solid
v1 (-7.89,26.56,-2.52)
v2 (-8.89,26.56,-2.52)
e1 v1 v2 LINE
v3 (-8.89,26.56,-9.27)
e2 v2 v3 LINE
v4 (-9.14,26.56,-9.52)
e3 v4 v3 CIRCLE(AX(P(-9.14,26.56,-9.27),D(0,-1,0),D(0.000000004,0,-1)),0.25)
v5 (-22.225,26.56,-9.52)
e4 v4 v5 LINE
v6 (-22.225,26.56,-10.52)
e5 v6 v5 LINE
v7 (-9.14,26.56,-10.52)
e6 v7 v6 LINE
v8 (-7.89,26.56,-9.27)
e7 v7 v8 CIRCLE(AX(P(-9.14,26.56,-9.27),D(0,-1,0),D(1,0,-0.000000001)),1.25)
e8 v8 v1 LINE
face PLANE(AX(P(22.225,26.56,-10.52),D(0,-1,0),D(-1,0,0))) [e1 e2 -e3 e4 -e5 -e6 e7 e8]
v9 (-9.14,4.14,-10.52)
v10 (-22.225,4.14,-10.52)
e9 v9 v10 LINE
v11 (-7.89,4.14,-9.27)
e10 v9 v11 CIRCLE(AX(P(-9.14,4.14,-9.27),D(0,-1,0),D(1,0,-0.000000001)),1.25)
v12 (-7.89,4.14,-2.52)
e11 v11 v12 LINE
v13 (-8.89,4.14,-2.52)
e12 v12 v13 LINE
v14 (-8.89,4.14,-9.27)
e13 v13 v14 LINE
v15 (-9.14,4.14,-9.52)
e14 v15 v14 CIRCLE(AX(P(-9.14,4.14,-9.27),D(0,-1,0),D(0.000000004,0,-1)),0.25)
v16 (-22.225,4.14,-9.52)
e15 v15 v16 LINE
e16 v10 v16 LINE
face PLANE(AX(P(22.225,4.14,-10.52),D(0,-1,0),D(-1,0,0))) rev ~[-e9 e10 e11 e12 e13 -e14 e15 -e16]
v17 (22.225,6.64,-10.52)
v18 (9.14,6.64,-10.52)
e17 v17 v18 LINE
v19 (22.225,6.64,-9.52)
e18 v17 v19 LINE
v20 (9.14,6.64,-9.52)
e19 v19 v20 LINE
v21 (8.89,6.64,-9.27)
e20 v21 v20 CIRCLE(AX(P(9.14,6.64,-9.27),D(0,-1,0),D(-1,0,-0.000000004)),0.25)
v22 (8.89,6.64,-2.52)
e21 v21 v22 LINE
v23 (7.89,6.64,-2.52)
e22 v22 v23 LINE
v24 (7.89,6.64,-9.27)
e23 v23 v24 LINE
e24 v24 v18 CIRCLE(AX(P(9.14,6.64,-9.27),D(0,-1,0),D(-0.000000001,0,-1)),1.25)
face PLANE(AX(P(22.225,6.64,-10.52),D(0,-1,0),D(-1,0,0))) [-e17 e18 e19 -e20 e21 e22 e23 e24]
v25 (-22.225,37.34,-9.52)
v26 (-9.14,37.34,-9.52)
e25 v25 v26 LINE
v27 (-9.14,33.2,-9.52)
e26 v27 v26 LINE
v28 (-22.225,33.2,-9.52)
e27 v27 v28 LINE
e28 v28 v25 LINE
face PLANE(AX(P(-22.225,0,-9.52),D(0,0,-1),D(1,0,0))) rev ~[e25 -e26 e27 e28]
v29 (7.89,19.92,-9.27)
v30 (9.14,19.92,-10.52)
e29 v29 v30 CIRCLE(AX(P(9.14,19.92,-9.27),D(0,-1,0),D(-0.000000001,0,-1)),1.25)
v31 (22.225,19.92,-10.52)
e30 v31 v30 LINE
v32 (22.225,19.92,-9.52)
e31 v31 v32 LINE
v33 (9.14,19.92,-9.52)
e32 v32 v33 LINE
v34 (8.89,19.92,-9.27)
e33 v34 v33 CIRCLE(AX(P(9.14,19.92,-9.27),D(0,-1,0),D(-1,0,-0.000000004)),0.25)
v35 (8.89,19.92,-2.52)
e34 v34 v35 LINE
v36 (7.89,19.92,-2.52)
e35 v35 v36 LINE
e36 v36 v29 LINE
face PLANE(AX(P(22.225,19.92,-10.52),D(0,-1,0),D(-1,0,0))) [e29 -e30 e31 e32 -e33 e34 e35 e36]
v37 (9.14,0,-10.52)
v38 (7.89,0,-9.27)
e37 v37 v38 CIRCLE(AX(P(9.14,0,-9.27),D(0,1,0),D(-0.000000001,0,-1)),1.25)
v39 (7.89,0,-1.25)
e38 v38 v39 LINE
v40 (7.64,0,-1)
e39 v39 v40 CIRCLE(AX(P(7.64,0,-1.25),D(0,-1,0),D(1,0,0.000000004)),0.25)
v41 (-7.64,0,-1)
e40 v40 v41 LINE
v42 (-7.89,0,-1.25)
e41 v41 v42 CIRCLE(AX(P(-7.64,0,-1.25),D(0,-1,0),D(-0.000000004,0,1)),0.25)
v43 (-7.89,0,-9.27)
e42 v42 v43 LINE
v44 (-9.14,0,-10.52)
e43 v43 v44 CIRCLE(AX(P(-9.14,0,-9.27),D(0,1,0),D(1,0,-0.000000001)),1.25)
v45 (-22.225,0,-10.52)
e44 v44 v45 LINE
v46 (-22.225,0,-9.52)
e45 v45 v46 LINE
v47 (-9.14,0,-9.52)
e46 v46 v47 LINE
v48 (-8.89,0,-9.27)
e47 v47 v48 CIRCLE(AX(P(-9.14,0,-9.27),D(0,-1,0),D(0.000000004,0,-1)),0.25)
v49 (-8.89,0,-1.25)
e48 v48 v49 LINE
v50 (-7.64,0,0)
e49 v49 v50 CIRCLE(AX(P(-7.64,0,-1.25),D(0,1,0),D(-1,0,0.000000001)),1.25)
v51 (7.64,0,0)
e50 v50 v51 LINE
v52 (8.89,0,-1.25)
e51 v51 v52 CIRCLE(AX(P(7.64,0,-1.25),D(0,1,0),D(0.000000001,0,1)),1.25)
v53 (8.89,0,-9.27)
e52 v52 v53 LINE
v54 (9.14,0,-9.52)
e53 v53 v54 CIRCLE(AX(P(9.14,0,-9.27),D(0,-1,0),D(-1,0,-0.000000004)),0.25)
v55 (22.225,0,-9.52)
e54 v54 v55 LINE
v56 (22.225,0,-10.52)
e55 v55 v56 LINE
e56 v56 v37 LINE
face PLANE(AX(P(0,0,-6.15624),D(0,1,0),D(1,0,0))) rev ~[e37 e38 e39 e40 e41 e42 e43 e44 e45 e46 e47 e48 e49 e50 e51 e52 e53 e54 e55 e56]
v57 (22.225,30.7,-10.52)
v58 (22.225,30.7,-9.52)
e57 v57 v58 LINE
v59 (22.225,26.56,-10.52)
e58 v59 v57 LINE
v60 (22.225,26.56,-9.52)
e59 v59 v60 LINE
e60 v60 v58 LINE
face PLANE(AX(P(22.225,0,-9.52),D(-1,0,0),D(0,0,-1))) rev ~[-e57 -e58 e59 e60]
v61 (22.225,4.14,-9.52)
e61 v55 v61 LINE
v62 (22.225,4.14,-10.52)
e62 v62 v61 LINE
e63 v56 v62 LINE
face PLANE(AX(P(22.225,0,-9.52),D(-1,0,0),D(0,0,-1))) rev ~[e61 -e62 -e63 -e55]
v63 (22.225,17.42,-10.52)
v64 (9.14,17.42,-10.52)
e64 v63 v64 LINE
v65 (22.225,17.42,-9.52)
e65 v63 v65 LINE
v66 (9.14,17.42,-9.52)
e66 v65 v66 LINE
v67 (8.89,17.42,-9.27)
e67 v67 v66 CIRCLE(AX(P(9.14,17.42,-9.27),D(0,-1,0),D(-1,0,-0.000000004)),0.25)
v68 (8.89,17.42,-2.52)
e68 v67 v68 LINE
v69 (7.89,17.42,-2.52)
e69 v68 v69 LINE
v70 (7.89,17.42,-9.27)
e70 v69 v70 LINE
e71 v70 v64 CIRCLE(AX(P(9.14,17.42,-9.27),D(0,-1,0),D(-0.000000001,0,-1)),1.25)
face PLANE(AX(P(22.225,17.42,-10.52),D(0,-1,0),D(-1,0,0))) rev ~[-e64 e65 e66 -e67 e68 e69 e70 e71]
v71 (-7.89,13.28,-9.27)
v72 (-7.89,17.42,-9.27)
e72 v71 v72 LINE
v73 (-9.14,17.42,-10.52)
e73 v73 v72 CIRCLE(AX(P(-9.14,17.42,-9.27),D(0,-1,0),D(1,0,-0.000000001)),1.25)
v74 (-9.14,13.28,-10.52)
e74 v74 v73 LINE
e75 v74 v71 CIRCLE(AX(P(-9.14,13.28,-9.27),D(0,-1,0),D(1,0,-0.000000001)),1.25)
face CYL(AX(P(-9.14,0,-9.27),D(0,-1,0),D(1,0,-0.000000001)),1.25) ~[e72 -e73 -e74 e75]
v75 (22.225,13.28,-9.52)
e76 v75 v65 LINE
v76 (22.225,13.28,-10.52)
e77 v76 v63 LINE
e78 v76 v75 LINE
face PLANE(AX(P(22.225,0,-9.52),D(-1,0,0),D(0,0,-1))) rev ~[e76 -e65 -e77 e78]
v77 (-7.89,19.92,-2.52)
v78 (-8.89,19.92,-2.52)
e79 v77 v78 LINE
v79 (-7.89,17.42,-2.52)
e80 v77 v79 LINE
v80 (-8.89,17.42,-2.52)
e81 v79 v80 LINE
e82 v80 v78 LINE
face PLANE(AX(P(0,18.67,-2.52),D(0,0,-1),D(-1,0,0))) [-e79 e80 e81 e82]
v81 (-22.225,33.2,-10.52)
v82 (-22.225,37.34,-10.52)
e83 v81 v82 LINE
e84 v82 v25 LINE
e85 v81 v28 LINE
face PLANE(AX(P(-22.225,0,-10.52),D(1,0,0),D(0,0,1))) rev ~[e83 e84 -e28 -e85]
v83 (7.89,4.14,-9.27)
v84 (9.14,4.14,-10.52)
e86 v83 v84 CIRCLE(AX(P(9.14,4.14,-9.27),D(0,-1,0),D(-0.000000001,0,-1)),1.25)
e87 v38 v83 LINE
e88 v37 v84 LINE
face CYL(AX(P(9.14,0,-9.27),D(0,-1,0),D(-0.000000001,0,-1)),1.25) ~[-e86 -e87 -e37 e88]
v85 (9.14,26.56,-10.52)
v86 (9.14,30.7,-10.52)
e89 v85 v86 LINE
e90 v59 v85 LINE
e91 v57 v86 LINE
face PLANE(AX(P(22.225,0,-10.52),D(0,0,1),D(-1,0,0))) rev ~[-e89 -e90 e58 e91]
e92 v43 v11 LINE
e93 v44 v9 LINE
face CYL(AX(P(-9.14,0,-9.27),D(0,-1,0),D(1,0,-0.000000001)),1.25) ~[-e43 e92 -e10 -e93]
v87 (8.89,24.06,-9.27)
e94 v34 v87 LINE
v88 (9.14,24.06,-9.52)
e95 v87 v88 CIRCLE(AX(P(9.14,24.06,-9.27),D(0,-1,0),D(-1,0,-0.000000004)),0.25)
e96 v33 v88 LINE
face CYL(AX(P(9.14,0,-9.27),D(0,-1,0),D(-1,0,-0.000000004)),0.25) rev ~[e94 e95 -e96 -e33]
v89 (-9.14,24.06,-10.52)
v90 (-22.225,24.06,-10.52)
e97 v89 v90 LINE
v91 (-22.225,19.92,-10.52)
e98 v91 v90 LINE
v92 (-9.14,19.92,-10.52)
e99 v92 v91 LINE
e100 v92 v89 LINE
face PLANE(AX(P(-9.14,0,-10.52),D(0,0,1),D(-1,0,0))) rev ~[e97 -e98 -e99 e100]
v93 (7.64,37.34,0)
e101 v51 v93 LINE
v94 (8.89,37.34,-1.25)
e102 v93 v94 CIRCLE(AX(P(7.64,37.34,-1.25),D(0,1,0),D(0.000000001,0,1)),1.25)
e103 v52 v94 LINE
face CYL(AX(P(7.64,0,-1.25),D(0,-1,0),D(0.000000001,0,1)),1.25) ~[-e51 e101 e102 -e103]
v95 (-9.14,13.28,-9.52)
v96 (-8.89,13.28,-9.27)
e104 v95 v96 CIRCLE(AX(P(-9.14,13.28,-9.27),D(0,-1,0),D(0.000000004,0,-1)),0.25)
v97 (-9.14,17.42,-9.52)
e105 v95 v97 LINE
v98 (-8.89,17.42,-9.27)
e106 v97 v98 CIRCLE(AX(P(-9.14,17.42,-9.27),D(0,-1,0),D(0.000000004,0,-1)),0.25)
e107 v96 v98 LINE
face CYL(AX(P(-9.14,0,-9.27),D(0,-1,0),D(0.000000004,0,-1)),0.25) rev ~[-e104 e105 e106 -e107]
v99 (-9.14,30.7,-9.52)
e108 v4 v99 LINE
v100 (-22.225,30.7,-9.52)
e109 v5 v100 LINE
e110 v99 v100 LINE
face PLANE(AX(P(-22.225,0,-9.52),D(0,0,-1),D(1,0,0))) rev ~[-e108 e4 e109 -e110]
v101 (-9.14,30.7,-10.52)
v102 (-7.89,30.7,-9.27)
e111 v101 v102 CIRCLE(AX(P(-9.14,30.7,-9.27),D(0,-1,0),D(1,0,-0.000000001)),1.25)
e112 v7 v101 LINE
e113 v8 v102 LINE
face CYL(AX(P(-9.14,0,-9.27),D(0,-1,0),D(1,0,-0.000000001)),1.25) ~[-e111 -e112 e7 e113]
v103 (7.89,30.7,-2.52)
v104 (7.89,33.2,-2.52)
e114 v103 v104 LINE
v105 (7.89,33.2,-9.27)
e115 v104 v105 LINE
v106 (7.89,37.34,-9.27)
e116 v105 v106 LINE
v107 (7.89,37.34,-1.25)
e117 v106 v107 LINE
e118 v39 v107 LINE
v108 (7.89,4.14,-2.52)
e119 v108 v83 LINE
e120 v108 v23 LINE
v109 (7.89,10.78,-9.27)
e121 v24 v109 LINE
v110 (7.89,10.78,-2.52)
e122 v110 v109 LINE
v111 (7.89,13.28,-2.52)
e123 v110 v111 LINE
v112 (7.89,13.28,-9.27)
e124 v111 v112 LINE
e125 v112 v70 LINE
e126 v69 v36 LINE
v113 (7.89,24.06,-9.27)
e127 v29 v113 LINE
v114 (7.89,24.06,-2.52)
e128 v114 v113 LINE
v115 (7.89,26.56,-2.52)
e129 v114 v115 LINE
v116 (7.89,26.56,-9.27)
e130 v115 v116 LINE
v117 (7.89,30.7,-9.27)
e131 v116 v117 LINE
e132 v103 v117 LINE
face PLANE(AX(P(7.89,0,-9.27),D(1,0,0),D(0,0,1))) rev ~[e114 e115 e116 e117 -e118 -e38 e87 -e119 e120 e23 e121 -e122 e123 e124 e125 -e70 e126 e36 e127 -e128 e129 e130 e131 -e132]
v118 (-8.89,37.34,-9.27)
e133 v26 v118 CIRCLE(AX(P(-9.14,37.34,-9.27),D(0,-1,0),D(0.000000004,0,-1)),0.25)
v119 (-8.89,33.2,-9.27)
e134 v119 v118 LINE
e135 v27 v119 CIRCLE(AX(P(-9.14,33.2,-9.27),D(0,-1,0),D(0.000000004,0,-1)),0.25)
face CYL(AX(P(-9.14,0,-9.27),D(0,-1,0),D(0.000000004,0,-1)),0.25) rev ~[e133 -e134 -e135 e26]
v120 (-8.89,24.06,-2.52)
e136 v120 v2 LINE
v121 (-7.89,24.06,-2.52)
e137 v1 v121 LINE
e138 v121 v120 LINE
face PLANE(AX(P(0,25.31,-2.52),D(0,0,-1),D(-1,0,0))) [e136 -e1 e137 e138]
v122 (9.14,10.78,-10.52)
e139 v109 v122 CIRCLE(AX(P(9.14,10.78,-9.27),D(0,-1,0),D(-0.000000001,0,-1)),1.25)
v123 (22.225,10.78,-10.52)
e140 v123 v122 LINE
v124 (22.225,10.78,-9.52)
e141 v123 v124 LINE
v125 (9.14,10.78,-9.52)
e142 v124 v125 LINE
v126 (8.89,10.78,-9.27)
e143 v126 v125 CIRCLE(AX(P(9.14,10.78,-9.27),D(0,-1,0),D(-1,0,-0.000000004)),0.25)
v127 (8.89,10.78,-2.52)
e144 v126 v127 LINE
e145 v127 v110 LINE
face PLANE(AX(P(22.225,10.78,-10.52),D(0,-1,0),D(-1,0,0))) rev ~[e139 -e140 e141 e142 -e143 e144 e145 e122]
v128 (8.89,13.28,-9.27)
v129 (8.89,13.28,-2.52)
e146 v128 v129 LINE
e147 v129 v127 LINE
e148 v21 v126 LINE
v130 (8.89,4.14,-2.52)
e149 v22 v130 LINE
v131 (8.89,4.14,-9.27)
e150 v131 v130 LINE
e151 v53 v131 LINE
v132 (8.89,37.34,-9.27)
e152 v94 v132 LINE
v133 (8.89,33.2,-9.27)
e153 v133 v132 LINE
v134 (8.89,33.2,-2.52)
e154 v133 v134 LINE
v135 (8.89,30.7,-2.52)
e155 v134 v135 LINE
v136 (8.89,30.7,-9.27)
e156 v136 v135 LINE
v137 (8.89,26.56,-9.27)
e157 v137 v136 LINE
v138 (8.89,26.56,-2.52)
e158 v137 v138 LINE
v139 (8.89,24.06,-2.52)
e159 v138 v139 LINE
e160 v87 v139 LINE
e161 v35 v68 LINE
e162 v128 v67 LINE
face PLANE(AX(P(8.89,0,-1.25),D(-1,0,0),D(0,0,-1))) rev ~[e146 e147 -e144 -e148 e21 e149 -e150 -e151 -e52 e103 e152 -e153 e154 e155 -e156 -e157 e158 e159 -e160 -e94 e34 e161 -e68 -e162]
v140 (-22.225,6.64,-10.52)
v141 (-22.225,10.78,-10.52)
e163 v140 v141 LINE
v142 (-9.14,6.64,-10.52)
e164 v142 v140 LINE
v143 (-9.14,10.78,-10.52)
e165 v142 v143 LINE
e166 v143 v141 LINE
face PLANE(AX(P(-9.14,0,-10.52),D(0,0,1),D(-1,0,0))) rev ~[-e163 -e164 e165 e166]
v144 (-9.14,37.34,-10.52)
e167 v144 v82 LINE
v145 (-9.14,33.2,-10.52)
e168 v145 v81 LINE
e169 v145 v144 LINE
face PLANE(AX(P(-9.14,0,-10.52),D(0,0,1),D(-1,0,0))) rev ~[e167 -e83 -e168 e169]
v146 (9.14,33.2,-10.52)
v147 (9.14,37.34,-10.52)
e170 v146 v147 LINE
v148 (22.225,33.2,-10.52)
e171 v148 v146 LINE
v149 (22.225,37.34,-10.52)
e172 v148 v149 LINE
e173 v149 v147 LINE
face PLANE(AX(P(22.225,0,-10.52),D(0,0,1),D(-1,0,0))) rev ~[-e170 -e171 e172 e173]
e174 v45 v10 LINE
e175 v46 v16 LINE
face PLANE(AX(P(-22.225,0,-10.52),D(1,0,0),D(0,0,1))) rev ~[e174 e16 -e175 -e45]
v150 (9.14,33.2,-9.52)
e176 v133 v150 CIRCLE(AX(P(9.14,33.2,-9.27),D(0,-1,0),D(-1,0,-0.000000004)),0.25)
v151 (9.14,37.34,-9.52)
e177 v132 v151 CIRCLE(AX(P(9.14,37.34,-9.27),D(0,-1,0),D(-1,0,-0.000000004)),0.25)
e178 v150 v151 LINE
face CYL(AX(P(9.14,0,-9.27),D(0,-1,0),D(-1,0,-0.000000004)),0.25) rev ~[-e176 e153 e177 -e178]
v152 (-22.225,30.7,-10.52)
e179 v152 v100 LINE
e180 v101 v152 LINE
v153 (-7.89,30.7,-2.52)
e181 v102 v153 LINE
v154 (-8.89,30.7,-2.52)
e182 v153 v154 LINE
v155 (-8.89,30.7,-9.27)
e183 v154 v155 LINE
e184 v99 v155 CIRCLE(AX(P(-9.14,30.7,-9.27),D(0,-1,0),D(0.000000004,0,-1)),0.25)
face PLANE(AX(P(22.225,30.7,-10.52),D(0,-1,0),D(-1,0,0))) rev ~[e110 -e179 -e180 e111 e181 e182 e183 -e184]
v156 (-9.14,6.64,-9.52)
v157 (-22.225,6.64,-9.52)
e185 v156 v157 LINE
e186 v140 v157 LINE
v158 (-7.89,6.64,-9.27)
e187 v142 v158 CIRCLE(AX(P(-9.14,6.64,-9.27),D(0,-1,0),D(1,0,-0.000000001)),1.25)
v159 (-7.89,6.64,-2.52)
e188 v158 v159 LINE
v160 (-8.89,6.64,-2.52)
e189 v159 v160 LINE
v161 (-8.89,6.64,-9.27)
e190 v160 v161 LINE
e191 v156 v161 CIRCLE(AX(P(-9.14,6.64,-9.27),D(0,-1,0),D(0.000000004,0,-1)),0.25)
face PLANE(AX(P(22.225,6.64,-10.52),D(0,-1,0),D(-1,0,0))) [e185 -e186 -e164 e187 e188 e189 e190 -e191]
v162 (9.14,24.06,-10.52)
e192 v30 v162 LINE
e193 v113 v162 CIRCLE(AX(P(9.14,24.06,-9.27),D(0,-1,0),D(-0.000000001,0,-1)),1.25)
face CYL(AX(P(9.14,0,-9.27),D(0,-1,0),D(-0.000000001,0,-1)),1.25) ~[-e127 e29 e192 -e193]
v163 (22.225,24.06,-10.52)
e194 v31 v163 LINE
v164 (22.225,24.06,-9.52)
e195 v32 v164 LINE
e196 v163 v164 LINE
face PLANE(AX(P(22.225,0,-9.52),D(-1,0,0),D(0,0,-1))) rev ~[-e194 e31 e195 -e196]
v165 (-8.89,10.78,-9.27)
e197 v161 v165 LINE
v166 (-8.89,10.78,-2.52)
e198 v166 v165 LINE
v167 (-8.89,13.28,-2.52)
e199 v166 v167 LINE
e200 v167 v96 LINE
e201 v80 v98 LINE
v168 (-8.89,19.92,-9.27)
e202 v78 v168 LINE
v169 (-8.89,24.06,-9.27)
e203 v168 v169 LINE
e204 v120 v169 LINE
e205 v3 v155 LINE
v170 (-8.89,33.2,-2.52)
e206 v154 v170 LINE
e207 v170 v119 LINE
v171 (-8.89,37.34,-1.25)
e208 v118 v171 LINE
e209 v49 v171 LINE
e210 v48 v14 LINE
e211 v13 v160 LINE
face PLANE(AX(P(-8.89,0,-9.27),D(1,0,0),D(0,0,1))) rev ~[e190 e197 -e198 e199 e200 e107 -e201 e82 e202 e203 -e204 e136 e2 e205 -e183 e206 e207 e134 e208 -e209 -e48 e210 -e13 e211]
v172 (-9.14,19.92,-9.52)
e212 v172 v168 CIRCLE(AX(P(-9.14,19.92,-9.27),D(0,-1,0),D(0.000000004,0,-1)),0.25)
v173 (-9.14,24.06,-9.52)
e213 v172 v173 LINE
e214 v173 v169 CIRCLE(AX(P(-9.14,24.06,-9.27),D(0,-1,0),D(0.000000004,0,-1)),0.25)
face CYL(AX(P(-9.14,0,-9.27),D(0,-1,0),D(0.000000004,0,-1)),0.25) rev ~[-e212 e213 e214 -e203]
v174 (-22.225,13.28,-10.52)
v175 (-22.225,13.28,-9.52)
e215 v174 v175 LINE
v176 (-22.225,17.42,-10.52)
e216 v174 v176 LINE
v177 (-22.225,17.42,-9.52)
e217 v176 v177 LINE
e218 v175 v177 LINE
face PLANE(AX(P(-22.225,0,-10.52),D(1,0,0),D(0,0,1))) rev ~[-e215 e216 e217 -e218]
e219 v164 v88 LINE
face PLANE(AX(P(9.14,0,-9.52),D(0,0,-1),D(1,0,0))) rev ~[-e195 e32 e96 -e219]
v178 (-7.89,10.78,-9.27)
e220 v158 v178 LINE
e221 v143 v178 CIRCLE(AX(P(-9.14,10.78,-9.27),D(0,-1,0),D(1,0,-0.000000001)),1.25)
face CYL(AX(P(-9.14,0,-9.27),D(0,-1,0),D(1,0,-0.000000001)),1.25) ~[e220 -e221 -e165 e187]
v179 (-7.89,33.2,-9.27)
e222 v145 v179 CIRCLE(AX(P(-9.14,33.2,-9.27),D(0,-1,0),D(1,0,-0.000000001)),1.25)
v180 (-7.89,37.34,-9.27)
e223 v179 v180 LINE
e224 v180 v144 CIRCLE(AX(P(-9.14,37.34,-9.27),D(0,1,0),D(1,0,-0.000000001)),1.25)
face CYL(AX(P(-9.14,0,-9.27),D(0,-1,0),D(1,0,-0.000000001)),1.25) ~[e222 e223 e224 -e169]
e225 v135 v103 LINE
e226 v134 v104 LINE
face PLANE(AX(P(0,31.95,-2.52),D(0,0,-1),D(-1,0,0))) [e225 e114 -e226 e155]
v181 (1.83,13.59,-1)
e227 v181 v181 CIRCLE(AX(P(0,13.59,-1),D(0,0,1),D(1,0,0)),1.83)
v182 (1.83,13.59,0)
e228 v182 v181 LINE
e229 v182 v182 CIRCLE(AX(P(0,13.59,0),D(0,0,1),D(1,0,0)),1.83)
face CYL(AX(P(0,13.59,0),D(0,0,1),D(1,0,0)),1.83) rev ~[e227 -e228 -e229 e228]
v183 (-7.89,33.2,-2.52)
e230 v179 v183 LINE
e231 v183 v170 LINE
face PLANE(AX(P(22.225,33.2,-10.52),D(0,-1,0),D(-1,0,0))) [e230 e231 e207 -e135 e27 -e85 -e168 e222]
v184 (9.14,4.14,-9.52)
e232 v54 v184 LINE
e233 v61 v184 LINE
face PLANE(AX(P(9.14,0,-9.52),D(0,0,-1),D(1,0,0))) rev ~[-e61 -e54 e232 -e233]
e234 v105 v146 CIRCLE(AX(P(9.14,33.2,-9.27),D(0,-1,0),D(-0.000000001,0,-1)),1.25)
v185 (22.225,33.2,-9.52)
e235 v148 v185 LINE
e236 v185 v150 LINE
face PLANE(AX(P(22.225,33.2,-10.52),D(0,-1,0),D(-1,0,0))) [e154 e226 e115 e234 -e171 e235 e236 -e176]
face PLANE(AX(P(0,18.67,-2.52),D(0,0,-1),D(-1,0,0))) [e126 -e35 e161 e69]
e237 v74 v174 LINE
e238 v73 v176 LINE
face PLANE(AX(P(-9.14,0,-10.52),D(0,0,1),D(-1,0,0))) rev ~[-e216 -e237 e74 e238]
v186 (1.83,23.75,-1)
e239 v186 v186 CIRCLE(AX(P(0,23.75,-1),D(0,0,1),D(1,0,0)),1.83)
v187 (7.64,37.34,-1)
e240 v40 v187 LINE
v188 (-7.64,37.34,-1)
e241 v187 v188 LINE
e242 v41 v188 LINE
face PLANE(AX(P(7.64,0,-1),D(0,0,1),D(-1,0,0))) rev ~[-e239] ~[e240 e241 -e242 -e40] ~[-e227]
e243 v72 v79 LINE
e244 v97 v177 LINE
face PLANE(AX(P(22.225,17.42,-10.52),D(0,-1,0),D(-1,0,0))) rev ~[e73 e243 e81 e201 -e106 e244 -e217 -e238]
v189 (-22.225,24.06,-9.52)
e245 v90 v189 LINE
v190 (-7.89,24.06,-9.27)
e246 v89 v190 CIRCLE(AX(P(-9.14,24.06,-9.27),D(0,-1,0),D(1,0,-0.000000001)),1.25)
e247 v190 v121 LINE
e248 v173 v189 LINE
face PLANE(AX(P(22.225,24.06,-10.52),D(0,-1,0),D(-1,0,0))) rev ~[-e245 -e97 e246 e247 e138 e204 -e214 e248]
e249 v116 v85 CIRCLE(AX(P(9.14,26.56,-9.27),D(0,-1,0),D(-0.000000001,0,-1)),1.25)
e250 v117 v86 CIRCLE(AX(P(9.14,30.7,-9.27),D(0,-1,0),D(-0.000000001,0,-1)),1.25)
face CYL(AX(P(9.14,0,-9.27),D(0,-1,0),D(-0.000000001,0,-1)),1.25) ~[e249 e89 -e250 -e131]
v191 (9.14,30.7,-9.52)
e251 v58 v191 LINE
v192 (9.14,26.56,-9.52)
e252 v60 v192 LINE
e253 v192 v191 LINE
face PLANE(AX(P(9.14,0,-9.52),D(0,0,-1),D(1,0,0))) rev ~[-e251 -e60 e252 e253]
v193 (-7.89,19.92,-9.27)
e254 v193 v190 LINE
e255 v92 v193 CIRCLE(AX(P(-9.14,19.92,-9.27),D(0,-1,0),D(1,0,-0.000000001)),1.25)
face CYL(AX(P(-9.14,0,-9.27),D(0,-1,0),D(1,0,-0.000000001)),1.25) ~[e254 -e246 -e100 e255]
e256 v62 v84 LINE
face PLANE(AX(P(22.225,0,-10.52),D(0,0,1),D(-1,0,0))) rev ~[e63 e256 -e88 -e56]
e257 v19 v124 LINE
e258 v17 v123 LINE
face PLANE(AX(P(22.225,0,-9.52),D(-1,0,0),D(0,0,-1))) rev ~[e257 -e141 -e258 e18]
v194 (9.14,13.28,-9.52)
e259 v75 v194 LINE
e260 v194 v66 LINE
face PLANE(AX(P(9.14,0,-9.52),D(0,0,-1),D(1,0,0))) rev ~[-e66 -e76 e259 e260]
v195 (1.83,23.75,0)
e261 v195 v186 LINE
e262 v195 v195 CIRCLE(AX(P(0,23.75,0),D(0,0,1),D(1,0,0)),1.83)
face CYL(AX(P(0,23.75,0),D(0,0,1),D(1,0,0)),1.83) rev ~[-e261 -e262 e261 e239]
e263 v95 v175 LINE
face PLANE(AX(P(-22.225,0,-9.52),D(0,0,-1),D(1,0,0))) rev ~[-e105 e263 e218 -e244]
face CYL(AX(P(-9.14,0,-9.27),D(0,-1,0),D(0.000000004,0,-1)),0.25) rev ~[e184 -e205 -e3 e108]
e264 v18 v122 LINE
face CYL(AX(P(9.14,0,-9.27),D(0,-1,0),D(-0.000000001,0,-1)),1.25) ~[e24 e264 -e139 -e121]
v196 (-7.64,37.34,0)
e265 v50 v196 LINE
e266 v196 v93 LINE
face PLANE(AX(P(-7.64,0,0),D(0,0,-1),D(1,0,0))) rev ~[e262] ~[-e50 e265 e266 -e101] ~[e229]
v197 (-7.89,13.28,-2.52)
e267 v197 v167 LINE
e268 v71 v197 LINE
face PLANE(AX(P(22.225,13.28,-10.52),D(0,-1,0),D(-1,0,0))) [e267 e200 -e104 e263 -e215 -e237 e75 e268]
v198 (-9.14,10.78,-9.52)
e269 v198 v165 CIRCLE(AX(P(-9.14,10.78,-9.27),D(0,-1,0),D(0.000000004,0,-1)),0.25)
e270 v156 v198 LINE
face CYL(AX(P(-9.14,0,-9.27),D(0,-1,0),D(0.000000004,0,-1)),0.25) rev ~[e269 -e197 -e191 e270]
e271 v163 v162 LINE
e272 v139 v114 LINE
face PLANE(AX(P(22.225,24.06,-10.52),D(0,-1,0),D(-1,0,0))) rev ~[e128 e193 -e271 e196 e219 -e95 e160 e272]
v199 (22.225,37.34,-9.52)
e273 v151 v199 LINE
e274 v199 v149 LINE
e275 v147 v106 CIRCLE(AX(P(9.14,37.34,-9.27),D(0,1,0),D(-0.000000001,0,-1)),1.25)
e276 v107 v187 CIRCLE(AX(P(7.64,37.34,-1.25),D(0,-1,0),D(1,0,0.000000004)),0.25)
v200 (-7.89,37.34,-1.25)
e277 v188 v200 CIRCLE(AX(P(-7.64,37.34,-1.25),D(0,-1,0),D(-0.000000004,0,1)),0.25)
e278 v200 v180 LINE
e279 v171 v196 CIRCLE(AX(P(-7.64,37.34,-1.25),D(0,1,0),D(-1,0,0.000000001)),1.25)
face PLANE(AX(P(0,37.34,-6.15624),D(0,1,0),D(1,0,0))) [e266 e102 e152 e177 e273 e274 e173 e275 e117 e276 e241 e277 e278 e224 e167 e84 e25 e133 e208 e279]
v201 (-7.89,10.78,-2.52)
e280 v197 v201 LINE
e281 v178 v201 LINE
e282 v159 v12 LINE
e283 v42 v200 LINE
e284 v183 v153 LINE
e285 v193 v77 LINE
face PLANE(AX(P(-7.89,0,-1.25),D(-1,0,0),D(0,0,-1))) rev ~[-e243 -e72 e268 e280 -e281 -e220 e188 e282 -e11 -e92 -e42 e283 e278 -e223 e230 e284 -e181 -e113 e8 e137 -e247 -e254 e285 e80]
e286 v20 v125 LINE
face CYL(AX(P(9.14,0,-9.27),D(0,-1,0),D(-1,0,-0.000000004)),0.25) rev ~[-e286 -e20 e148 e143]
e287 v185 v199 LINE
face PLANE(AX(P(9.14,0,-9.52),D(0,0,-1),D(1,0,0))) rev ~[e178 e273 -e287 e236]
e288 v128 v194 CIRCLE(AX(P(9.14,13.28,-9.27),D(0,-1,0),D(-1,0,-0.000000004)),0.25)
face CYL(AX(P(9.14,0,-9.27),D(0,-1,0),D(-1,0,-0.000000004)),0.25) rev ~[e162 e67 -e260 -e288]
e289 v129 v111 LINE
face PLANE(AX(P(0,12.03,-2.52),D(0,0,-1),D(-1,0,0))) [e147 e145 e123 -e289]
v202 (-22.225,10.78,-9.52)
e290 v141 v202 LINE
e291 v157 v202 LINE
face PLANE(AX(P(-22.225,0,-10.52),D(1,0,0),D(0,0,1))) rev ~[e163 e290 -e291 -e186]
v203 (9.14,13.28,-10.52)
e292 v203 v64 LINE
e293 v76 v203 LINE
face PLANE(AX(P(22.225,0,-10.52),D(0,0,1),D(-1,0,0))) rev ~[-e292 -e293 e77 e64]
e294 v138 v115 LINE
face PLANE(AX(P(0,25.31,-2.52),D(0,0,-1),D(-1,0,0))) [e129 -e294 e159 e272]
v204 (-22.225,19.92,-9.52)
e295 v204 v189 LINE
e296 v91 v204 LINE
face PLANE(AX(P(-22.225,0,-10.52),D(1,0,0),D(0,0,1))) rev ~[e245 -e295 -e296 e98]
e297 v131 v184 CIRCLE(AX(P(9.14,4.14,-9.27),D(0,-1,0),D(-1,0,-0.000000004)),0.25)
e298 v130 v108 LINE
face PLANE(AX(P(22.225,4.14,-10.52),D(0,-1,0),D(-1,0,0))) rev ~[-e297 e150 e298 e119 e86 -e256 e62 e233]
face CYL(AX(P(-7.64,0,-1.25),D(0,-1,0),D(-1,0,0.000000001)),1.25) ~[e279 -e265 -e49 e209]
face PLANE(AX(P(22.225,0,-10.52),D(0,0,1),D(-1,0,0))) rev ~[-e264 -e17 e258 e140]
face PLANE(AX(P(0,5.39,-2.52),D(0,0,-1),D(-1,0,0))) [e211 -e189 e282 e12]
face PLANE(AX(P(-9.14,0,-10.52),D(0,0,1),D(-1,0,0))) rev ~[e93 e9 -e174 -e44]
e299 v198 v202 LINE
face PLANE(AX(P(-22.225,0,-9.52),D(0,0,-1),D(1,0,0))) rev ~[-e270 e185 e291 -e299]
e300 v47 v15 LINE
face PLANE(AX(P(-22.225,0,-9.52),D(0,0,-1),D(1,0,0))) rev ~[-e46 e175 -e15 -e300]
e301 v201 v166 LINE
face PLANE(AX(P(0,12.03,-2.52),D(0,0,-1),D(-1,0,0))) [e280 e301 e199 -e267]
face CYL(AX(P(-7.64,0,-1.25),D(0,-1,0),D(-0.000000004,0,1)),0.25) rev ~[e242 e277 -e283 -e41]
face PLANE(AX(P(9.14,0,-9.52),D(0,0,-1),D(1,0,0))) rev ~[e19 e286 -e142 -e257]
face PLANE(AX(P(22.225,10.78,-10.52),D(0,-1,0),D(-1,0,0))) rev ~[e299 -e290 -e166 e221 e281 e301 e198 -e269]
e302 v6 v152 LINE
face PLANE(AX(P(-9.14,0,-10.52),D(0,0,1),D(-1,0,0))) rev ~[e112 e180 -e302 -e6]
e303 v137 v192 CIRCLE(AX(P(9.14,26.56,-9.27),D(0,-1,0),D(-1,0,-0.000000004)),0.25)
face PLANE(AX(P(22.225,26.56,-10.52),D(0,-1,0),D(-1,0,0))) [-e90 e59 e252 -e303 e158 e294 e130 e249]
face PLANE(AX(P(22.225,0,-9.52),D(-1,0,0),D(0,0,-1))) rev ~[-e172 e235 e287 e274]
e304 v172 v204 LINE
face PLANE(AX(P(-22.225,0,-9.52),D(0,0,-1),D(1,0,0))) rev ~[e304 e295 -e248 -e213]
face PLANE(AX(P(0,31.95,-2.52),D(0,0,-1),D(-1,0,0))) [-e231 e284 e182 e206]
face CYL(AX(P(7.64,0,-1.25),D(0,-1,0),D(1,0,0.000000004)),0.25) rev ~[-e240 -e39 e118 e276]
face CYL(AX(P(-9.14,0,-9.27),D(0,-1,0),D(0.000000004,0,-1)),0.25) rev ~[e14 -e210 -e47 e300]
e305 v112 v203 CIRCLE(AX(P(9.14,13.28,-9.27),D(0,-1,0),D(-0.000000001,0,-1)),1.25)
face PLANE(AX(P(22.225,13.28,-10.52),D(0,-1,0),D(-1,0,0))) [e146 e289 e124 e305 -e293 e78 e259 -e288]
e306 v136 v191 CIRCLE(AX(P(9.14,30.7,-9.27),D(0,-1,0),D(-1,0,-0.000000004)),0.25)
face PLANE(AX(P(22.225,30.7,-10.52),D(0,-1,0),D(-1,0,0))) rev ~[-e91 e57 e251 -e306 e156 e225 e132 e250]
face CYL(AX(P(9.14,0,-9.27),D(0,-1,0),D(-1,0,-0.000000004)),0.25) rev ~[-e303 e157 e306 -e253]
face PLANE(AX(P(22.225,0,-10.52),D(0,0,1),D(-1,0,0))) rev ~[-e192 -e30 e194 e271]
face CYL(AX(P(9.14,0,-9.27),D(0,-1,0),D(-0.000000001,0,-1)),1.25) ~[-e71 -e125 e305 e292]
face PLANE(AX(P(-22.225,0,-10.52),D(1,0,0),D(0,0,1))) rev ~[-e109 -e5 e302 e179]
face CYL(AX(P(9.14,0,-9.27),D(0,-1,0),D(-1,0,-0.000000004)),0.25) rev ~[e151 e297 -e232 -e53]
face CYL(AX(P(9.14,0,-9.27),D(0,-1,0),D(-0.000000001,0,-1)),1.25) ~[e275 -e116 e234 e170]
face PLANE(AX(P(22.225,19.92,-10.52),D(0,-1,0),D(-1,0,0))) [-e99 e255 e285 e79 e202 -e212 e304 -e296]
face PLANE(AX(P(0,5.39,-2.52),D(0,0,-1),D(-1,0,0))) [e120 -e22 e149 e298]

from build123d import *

# Parameters (mm, degrees)
EXTRUDE_THIN1_DEPTH = 37.34
SKETCH2_R           = 1.83
CUT_EXTRUDE1_DEPTH  = 11.52
SKETCH3_W           = 44.45
SKETCH3_H           = 2.5
CUT_EXTRUDE2_DEPTH  = 8


with BuildPart() as part:
    # Sketch1 → Extrude-Thin1 (new body)
    with BuildSketch(Plane(origin=(0, 0, 0), x_dir=(1, 0, 0), z_dir=(0, 1, 0))):
        with BuildLine():
            Line((-22.225, 9.52), (-9.14, 9.52))
            ThreePointArc((-9.14, 9.52), (-8.963223305, 9.446776695), (-8.89, 9.27))
            Line((-8.89, 9.27), (-8.89, 1.25))
            ThreePointArc((-8.89, 1.25), (-8.523883476, 0.366116524), (-7.64, 0))
            Line((-7.64, 0), (7.64, 0))
            ThreePointArc((7.64, 0), (8.523883476, 0.366116524), (8.89, 1.25))
            Line((8.89, 1.25), (8.89, 9.27))
            ThreePointArc((8.89, 9.27), (8.963223305, 9.446776695), (9.14, 9.52))
            Line((9.14, 9.52), (22.225, 9.52))
            Line((22.225, 9.52), (22.225, 10.52))
            Line((22.225, 10.52), (9.14, 10.52))
            ThreePointArc((9.14, 10.52), (8.256116524, 10.153883476), (7.89, 9.27))
            Line((7.89, 9.27), (7.89, 1.25))
            ThreePointArc((7.89, 1.25), (7.816776695, 1.073223305), (7.64, 1))
            Line((7.64, 1), (-7.64, 1))
            ThreePointArc((-7.64, 1), (-7.816776695, 1.073223305), (-7.89, 1.25))
            Line((-7.89, 1.25), (-7.89, 9.27))
            ThreePointArc((-7.89, 9.27), (-8.256116524, 10.153883476), (-9.14, 10.52))
            Line((-9.14, 10.52), (-22.225, 10.52))
            Line((-22.225, 10.52), (-22.225, 9.52))
        make_face()
    extrude(amount=EXTRUDE_THIN1_DEPTH)

    # Sketch2 → Cut-Extrude1 (cut, through all)
    with BuildSketch(Plane.XY):
        with Locations((0, 13.59)):
            Circle(SKETCH2_R)
        with Locations((0, 23.75)):
            Circle(SKETCH2_R)
    extrude(amount=-CUT_EXTRUDE1_DEPTH, mode=Mode.SUBTRACT)

    # Sketch3 → Cut-Extrude2 (cut)
    with BuildSketch(Plane(origin=(0, 0, -10.52), x_dir=(-1, 0, 0), z_dir=(0, 0, -1))):
        with Locations((0, 31.95)):
            Rectangle(SKETCH3_W, SKETCH3_H)
        with Locations((0, 25.31)):
            Rectangle(SKETCH3_W, SKETCH3_H)
        with Locations((0, 18.67)):
            Rectangle(SKETCH3_W, SKETCH3_H)
        with Locations((0, 12.03)):
            Rectangle(SKETCH3_W, SKETCH3_H)
        with Locations((0, 5.39)):
            Rectangle(SKETCH3_W, SKETCH3_H)
    extrude(amount=-CUT_EXTRUDE2_DEPTH, mode=Mode.SUBTRACT)


solid = part.part
